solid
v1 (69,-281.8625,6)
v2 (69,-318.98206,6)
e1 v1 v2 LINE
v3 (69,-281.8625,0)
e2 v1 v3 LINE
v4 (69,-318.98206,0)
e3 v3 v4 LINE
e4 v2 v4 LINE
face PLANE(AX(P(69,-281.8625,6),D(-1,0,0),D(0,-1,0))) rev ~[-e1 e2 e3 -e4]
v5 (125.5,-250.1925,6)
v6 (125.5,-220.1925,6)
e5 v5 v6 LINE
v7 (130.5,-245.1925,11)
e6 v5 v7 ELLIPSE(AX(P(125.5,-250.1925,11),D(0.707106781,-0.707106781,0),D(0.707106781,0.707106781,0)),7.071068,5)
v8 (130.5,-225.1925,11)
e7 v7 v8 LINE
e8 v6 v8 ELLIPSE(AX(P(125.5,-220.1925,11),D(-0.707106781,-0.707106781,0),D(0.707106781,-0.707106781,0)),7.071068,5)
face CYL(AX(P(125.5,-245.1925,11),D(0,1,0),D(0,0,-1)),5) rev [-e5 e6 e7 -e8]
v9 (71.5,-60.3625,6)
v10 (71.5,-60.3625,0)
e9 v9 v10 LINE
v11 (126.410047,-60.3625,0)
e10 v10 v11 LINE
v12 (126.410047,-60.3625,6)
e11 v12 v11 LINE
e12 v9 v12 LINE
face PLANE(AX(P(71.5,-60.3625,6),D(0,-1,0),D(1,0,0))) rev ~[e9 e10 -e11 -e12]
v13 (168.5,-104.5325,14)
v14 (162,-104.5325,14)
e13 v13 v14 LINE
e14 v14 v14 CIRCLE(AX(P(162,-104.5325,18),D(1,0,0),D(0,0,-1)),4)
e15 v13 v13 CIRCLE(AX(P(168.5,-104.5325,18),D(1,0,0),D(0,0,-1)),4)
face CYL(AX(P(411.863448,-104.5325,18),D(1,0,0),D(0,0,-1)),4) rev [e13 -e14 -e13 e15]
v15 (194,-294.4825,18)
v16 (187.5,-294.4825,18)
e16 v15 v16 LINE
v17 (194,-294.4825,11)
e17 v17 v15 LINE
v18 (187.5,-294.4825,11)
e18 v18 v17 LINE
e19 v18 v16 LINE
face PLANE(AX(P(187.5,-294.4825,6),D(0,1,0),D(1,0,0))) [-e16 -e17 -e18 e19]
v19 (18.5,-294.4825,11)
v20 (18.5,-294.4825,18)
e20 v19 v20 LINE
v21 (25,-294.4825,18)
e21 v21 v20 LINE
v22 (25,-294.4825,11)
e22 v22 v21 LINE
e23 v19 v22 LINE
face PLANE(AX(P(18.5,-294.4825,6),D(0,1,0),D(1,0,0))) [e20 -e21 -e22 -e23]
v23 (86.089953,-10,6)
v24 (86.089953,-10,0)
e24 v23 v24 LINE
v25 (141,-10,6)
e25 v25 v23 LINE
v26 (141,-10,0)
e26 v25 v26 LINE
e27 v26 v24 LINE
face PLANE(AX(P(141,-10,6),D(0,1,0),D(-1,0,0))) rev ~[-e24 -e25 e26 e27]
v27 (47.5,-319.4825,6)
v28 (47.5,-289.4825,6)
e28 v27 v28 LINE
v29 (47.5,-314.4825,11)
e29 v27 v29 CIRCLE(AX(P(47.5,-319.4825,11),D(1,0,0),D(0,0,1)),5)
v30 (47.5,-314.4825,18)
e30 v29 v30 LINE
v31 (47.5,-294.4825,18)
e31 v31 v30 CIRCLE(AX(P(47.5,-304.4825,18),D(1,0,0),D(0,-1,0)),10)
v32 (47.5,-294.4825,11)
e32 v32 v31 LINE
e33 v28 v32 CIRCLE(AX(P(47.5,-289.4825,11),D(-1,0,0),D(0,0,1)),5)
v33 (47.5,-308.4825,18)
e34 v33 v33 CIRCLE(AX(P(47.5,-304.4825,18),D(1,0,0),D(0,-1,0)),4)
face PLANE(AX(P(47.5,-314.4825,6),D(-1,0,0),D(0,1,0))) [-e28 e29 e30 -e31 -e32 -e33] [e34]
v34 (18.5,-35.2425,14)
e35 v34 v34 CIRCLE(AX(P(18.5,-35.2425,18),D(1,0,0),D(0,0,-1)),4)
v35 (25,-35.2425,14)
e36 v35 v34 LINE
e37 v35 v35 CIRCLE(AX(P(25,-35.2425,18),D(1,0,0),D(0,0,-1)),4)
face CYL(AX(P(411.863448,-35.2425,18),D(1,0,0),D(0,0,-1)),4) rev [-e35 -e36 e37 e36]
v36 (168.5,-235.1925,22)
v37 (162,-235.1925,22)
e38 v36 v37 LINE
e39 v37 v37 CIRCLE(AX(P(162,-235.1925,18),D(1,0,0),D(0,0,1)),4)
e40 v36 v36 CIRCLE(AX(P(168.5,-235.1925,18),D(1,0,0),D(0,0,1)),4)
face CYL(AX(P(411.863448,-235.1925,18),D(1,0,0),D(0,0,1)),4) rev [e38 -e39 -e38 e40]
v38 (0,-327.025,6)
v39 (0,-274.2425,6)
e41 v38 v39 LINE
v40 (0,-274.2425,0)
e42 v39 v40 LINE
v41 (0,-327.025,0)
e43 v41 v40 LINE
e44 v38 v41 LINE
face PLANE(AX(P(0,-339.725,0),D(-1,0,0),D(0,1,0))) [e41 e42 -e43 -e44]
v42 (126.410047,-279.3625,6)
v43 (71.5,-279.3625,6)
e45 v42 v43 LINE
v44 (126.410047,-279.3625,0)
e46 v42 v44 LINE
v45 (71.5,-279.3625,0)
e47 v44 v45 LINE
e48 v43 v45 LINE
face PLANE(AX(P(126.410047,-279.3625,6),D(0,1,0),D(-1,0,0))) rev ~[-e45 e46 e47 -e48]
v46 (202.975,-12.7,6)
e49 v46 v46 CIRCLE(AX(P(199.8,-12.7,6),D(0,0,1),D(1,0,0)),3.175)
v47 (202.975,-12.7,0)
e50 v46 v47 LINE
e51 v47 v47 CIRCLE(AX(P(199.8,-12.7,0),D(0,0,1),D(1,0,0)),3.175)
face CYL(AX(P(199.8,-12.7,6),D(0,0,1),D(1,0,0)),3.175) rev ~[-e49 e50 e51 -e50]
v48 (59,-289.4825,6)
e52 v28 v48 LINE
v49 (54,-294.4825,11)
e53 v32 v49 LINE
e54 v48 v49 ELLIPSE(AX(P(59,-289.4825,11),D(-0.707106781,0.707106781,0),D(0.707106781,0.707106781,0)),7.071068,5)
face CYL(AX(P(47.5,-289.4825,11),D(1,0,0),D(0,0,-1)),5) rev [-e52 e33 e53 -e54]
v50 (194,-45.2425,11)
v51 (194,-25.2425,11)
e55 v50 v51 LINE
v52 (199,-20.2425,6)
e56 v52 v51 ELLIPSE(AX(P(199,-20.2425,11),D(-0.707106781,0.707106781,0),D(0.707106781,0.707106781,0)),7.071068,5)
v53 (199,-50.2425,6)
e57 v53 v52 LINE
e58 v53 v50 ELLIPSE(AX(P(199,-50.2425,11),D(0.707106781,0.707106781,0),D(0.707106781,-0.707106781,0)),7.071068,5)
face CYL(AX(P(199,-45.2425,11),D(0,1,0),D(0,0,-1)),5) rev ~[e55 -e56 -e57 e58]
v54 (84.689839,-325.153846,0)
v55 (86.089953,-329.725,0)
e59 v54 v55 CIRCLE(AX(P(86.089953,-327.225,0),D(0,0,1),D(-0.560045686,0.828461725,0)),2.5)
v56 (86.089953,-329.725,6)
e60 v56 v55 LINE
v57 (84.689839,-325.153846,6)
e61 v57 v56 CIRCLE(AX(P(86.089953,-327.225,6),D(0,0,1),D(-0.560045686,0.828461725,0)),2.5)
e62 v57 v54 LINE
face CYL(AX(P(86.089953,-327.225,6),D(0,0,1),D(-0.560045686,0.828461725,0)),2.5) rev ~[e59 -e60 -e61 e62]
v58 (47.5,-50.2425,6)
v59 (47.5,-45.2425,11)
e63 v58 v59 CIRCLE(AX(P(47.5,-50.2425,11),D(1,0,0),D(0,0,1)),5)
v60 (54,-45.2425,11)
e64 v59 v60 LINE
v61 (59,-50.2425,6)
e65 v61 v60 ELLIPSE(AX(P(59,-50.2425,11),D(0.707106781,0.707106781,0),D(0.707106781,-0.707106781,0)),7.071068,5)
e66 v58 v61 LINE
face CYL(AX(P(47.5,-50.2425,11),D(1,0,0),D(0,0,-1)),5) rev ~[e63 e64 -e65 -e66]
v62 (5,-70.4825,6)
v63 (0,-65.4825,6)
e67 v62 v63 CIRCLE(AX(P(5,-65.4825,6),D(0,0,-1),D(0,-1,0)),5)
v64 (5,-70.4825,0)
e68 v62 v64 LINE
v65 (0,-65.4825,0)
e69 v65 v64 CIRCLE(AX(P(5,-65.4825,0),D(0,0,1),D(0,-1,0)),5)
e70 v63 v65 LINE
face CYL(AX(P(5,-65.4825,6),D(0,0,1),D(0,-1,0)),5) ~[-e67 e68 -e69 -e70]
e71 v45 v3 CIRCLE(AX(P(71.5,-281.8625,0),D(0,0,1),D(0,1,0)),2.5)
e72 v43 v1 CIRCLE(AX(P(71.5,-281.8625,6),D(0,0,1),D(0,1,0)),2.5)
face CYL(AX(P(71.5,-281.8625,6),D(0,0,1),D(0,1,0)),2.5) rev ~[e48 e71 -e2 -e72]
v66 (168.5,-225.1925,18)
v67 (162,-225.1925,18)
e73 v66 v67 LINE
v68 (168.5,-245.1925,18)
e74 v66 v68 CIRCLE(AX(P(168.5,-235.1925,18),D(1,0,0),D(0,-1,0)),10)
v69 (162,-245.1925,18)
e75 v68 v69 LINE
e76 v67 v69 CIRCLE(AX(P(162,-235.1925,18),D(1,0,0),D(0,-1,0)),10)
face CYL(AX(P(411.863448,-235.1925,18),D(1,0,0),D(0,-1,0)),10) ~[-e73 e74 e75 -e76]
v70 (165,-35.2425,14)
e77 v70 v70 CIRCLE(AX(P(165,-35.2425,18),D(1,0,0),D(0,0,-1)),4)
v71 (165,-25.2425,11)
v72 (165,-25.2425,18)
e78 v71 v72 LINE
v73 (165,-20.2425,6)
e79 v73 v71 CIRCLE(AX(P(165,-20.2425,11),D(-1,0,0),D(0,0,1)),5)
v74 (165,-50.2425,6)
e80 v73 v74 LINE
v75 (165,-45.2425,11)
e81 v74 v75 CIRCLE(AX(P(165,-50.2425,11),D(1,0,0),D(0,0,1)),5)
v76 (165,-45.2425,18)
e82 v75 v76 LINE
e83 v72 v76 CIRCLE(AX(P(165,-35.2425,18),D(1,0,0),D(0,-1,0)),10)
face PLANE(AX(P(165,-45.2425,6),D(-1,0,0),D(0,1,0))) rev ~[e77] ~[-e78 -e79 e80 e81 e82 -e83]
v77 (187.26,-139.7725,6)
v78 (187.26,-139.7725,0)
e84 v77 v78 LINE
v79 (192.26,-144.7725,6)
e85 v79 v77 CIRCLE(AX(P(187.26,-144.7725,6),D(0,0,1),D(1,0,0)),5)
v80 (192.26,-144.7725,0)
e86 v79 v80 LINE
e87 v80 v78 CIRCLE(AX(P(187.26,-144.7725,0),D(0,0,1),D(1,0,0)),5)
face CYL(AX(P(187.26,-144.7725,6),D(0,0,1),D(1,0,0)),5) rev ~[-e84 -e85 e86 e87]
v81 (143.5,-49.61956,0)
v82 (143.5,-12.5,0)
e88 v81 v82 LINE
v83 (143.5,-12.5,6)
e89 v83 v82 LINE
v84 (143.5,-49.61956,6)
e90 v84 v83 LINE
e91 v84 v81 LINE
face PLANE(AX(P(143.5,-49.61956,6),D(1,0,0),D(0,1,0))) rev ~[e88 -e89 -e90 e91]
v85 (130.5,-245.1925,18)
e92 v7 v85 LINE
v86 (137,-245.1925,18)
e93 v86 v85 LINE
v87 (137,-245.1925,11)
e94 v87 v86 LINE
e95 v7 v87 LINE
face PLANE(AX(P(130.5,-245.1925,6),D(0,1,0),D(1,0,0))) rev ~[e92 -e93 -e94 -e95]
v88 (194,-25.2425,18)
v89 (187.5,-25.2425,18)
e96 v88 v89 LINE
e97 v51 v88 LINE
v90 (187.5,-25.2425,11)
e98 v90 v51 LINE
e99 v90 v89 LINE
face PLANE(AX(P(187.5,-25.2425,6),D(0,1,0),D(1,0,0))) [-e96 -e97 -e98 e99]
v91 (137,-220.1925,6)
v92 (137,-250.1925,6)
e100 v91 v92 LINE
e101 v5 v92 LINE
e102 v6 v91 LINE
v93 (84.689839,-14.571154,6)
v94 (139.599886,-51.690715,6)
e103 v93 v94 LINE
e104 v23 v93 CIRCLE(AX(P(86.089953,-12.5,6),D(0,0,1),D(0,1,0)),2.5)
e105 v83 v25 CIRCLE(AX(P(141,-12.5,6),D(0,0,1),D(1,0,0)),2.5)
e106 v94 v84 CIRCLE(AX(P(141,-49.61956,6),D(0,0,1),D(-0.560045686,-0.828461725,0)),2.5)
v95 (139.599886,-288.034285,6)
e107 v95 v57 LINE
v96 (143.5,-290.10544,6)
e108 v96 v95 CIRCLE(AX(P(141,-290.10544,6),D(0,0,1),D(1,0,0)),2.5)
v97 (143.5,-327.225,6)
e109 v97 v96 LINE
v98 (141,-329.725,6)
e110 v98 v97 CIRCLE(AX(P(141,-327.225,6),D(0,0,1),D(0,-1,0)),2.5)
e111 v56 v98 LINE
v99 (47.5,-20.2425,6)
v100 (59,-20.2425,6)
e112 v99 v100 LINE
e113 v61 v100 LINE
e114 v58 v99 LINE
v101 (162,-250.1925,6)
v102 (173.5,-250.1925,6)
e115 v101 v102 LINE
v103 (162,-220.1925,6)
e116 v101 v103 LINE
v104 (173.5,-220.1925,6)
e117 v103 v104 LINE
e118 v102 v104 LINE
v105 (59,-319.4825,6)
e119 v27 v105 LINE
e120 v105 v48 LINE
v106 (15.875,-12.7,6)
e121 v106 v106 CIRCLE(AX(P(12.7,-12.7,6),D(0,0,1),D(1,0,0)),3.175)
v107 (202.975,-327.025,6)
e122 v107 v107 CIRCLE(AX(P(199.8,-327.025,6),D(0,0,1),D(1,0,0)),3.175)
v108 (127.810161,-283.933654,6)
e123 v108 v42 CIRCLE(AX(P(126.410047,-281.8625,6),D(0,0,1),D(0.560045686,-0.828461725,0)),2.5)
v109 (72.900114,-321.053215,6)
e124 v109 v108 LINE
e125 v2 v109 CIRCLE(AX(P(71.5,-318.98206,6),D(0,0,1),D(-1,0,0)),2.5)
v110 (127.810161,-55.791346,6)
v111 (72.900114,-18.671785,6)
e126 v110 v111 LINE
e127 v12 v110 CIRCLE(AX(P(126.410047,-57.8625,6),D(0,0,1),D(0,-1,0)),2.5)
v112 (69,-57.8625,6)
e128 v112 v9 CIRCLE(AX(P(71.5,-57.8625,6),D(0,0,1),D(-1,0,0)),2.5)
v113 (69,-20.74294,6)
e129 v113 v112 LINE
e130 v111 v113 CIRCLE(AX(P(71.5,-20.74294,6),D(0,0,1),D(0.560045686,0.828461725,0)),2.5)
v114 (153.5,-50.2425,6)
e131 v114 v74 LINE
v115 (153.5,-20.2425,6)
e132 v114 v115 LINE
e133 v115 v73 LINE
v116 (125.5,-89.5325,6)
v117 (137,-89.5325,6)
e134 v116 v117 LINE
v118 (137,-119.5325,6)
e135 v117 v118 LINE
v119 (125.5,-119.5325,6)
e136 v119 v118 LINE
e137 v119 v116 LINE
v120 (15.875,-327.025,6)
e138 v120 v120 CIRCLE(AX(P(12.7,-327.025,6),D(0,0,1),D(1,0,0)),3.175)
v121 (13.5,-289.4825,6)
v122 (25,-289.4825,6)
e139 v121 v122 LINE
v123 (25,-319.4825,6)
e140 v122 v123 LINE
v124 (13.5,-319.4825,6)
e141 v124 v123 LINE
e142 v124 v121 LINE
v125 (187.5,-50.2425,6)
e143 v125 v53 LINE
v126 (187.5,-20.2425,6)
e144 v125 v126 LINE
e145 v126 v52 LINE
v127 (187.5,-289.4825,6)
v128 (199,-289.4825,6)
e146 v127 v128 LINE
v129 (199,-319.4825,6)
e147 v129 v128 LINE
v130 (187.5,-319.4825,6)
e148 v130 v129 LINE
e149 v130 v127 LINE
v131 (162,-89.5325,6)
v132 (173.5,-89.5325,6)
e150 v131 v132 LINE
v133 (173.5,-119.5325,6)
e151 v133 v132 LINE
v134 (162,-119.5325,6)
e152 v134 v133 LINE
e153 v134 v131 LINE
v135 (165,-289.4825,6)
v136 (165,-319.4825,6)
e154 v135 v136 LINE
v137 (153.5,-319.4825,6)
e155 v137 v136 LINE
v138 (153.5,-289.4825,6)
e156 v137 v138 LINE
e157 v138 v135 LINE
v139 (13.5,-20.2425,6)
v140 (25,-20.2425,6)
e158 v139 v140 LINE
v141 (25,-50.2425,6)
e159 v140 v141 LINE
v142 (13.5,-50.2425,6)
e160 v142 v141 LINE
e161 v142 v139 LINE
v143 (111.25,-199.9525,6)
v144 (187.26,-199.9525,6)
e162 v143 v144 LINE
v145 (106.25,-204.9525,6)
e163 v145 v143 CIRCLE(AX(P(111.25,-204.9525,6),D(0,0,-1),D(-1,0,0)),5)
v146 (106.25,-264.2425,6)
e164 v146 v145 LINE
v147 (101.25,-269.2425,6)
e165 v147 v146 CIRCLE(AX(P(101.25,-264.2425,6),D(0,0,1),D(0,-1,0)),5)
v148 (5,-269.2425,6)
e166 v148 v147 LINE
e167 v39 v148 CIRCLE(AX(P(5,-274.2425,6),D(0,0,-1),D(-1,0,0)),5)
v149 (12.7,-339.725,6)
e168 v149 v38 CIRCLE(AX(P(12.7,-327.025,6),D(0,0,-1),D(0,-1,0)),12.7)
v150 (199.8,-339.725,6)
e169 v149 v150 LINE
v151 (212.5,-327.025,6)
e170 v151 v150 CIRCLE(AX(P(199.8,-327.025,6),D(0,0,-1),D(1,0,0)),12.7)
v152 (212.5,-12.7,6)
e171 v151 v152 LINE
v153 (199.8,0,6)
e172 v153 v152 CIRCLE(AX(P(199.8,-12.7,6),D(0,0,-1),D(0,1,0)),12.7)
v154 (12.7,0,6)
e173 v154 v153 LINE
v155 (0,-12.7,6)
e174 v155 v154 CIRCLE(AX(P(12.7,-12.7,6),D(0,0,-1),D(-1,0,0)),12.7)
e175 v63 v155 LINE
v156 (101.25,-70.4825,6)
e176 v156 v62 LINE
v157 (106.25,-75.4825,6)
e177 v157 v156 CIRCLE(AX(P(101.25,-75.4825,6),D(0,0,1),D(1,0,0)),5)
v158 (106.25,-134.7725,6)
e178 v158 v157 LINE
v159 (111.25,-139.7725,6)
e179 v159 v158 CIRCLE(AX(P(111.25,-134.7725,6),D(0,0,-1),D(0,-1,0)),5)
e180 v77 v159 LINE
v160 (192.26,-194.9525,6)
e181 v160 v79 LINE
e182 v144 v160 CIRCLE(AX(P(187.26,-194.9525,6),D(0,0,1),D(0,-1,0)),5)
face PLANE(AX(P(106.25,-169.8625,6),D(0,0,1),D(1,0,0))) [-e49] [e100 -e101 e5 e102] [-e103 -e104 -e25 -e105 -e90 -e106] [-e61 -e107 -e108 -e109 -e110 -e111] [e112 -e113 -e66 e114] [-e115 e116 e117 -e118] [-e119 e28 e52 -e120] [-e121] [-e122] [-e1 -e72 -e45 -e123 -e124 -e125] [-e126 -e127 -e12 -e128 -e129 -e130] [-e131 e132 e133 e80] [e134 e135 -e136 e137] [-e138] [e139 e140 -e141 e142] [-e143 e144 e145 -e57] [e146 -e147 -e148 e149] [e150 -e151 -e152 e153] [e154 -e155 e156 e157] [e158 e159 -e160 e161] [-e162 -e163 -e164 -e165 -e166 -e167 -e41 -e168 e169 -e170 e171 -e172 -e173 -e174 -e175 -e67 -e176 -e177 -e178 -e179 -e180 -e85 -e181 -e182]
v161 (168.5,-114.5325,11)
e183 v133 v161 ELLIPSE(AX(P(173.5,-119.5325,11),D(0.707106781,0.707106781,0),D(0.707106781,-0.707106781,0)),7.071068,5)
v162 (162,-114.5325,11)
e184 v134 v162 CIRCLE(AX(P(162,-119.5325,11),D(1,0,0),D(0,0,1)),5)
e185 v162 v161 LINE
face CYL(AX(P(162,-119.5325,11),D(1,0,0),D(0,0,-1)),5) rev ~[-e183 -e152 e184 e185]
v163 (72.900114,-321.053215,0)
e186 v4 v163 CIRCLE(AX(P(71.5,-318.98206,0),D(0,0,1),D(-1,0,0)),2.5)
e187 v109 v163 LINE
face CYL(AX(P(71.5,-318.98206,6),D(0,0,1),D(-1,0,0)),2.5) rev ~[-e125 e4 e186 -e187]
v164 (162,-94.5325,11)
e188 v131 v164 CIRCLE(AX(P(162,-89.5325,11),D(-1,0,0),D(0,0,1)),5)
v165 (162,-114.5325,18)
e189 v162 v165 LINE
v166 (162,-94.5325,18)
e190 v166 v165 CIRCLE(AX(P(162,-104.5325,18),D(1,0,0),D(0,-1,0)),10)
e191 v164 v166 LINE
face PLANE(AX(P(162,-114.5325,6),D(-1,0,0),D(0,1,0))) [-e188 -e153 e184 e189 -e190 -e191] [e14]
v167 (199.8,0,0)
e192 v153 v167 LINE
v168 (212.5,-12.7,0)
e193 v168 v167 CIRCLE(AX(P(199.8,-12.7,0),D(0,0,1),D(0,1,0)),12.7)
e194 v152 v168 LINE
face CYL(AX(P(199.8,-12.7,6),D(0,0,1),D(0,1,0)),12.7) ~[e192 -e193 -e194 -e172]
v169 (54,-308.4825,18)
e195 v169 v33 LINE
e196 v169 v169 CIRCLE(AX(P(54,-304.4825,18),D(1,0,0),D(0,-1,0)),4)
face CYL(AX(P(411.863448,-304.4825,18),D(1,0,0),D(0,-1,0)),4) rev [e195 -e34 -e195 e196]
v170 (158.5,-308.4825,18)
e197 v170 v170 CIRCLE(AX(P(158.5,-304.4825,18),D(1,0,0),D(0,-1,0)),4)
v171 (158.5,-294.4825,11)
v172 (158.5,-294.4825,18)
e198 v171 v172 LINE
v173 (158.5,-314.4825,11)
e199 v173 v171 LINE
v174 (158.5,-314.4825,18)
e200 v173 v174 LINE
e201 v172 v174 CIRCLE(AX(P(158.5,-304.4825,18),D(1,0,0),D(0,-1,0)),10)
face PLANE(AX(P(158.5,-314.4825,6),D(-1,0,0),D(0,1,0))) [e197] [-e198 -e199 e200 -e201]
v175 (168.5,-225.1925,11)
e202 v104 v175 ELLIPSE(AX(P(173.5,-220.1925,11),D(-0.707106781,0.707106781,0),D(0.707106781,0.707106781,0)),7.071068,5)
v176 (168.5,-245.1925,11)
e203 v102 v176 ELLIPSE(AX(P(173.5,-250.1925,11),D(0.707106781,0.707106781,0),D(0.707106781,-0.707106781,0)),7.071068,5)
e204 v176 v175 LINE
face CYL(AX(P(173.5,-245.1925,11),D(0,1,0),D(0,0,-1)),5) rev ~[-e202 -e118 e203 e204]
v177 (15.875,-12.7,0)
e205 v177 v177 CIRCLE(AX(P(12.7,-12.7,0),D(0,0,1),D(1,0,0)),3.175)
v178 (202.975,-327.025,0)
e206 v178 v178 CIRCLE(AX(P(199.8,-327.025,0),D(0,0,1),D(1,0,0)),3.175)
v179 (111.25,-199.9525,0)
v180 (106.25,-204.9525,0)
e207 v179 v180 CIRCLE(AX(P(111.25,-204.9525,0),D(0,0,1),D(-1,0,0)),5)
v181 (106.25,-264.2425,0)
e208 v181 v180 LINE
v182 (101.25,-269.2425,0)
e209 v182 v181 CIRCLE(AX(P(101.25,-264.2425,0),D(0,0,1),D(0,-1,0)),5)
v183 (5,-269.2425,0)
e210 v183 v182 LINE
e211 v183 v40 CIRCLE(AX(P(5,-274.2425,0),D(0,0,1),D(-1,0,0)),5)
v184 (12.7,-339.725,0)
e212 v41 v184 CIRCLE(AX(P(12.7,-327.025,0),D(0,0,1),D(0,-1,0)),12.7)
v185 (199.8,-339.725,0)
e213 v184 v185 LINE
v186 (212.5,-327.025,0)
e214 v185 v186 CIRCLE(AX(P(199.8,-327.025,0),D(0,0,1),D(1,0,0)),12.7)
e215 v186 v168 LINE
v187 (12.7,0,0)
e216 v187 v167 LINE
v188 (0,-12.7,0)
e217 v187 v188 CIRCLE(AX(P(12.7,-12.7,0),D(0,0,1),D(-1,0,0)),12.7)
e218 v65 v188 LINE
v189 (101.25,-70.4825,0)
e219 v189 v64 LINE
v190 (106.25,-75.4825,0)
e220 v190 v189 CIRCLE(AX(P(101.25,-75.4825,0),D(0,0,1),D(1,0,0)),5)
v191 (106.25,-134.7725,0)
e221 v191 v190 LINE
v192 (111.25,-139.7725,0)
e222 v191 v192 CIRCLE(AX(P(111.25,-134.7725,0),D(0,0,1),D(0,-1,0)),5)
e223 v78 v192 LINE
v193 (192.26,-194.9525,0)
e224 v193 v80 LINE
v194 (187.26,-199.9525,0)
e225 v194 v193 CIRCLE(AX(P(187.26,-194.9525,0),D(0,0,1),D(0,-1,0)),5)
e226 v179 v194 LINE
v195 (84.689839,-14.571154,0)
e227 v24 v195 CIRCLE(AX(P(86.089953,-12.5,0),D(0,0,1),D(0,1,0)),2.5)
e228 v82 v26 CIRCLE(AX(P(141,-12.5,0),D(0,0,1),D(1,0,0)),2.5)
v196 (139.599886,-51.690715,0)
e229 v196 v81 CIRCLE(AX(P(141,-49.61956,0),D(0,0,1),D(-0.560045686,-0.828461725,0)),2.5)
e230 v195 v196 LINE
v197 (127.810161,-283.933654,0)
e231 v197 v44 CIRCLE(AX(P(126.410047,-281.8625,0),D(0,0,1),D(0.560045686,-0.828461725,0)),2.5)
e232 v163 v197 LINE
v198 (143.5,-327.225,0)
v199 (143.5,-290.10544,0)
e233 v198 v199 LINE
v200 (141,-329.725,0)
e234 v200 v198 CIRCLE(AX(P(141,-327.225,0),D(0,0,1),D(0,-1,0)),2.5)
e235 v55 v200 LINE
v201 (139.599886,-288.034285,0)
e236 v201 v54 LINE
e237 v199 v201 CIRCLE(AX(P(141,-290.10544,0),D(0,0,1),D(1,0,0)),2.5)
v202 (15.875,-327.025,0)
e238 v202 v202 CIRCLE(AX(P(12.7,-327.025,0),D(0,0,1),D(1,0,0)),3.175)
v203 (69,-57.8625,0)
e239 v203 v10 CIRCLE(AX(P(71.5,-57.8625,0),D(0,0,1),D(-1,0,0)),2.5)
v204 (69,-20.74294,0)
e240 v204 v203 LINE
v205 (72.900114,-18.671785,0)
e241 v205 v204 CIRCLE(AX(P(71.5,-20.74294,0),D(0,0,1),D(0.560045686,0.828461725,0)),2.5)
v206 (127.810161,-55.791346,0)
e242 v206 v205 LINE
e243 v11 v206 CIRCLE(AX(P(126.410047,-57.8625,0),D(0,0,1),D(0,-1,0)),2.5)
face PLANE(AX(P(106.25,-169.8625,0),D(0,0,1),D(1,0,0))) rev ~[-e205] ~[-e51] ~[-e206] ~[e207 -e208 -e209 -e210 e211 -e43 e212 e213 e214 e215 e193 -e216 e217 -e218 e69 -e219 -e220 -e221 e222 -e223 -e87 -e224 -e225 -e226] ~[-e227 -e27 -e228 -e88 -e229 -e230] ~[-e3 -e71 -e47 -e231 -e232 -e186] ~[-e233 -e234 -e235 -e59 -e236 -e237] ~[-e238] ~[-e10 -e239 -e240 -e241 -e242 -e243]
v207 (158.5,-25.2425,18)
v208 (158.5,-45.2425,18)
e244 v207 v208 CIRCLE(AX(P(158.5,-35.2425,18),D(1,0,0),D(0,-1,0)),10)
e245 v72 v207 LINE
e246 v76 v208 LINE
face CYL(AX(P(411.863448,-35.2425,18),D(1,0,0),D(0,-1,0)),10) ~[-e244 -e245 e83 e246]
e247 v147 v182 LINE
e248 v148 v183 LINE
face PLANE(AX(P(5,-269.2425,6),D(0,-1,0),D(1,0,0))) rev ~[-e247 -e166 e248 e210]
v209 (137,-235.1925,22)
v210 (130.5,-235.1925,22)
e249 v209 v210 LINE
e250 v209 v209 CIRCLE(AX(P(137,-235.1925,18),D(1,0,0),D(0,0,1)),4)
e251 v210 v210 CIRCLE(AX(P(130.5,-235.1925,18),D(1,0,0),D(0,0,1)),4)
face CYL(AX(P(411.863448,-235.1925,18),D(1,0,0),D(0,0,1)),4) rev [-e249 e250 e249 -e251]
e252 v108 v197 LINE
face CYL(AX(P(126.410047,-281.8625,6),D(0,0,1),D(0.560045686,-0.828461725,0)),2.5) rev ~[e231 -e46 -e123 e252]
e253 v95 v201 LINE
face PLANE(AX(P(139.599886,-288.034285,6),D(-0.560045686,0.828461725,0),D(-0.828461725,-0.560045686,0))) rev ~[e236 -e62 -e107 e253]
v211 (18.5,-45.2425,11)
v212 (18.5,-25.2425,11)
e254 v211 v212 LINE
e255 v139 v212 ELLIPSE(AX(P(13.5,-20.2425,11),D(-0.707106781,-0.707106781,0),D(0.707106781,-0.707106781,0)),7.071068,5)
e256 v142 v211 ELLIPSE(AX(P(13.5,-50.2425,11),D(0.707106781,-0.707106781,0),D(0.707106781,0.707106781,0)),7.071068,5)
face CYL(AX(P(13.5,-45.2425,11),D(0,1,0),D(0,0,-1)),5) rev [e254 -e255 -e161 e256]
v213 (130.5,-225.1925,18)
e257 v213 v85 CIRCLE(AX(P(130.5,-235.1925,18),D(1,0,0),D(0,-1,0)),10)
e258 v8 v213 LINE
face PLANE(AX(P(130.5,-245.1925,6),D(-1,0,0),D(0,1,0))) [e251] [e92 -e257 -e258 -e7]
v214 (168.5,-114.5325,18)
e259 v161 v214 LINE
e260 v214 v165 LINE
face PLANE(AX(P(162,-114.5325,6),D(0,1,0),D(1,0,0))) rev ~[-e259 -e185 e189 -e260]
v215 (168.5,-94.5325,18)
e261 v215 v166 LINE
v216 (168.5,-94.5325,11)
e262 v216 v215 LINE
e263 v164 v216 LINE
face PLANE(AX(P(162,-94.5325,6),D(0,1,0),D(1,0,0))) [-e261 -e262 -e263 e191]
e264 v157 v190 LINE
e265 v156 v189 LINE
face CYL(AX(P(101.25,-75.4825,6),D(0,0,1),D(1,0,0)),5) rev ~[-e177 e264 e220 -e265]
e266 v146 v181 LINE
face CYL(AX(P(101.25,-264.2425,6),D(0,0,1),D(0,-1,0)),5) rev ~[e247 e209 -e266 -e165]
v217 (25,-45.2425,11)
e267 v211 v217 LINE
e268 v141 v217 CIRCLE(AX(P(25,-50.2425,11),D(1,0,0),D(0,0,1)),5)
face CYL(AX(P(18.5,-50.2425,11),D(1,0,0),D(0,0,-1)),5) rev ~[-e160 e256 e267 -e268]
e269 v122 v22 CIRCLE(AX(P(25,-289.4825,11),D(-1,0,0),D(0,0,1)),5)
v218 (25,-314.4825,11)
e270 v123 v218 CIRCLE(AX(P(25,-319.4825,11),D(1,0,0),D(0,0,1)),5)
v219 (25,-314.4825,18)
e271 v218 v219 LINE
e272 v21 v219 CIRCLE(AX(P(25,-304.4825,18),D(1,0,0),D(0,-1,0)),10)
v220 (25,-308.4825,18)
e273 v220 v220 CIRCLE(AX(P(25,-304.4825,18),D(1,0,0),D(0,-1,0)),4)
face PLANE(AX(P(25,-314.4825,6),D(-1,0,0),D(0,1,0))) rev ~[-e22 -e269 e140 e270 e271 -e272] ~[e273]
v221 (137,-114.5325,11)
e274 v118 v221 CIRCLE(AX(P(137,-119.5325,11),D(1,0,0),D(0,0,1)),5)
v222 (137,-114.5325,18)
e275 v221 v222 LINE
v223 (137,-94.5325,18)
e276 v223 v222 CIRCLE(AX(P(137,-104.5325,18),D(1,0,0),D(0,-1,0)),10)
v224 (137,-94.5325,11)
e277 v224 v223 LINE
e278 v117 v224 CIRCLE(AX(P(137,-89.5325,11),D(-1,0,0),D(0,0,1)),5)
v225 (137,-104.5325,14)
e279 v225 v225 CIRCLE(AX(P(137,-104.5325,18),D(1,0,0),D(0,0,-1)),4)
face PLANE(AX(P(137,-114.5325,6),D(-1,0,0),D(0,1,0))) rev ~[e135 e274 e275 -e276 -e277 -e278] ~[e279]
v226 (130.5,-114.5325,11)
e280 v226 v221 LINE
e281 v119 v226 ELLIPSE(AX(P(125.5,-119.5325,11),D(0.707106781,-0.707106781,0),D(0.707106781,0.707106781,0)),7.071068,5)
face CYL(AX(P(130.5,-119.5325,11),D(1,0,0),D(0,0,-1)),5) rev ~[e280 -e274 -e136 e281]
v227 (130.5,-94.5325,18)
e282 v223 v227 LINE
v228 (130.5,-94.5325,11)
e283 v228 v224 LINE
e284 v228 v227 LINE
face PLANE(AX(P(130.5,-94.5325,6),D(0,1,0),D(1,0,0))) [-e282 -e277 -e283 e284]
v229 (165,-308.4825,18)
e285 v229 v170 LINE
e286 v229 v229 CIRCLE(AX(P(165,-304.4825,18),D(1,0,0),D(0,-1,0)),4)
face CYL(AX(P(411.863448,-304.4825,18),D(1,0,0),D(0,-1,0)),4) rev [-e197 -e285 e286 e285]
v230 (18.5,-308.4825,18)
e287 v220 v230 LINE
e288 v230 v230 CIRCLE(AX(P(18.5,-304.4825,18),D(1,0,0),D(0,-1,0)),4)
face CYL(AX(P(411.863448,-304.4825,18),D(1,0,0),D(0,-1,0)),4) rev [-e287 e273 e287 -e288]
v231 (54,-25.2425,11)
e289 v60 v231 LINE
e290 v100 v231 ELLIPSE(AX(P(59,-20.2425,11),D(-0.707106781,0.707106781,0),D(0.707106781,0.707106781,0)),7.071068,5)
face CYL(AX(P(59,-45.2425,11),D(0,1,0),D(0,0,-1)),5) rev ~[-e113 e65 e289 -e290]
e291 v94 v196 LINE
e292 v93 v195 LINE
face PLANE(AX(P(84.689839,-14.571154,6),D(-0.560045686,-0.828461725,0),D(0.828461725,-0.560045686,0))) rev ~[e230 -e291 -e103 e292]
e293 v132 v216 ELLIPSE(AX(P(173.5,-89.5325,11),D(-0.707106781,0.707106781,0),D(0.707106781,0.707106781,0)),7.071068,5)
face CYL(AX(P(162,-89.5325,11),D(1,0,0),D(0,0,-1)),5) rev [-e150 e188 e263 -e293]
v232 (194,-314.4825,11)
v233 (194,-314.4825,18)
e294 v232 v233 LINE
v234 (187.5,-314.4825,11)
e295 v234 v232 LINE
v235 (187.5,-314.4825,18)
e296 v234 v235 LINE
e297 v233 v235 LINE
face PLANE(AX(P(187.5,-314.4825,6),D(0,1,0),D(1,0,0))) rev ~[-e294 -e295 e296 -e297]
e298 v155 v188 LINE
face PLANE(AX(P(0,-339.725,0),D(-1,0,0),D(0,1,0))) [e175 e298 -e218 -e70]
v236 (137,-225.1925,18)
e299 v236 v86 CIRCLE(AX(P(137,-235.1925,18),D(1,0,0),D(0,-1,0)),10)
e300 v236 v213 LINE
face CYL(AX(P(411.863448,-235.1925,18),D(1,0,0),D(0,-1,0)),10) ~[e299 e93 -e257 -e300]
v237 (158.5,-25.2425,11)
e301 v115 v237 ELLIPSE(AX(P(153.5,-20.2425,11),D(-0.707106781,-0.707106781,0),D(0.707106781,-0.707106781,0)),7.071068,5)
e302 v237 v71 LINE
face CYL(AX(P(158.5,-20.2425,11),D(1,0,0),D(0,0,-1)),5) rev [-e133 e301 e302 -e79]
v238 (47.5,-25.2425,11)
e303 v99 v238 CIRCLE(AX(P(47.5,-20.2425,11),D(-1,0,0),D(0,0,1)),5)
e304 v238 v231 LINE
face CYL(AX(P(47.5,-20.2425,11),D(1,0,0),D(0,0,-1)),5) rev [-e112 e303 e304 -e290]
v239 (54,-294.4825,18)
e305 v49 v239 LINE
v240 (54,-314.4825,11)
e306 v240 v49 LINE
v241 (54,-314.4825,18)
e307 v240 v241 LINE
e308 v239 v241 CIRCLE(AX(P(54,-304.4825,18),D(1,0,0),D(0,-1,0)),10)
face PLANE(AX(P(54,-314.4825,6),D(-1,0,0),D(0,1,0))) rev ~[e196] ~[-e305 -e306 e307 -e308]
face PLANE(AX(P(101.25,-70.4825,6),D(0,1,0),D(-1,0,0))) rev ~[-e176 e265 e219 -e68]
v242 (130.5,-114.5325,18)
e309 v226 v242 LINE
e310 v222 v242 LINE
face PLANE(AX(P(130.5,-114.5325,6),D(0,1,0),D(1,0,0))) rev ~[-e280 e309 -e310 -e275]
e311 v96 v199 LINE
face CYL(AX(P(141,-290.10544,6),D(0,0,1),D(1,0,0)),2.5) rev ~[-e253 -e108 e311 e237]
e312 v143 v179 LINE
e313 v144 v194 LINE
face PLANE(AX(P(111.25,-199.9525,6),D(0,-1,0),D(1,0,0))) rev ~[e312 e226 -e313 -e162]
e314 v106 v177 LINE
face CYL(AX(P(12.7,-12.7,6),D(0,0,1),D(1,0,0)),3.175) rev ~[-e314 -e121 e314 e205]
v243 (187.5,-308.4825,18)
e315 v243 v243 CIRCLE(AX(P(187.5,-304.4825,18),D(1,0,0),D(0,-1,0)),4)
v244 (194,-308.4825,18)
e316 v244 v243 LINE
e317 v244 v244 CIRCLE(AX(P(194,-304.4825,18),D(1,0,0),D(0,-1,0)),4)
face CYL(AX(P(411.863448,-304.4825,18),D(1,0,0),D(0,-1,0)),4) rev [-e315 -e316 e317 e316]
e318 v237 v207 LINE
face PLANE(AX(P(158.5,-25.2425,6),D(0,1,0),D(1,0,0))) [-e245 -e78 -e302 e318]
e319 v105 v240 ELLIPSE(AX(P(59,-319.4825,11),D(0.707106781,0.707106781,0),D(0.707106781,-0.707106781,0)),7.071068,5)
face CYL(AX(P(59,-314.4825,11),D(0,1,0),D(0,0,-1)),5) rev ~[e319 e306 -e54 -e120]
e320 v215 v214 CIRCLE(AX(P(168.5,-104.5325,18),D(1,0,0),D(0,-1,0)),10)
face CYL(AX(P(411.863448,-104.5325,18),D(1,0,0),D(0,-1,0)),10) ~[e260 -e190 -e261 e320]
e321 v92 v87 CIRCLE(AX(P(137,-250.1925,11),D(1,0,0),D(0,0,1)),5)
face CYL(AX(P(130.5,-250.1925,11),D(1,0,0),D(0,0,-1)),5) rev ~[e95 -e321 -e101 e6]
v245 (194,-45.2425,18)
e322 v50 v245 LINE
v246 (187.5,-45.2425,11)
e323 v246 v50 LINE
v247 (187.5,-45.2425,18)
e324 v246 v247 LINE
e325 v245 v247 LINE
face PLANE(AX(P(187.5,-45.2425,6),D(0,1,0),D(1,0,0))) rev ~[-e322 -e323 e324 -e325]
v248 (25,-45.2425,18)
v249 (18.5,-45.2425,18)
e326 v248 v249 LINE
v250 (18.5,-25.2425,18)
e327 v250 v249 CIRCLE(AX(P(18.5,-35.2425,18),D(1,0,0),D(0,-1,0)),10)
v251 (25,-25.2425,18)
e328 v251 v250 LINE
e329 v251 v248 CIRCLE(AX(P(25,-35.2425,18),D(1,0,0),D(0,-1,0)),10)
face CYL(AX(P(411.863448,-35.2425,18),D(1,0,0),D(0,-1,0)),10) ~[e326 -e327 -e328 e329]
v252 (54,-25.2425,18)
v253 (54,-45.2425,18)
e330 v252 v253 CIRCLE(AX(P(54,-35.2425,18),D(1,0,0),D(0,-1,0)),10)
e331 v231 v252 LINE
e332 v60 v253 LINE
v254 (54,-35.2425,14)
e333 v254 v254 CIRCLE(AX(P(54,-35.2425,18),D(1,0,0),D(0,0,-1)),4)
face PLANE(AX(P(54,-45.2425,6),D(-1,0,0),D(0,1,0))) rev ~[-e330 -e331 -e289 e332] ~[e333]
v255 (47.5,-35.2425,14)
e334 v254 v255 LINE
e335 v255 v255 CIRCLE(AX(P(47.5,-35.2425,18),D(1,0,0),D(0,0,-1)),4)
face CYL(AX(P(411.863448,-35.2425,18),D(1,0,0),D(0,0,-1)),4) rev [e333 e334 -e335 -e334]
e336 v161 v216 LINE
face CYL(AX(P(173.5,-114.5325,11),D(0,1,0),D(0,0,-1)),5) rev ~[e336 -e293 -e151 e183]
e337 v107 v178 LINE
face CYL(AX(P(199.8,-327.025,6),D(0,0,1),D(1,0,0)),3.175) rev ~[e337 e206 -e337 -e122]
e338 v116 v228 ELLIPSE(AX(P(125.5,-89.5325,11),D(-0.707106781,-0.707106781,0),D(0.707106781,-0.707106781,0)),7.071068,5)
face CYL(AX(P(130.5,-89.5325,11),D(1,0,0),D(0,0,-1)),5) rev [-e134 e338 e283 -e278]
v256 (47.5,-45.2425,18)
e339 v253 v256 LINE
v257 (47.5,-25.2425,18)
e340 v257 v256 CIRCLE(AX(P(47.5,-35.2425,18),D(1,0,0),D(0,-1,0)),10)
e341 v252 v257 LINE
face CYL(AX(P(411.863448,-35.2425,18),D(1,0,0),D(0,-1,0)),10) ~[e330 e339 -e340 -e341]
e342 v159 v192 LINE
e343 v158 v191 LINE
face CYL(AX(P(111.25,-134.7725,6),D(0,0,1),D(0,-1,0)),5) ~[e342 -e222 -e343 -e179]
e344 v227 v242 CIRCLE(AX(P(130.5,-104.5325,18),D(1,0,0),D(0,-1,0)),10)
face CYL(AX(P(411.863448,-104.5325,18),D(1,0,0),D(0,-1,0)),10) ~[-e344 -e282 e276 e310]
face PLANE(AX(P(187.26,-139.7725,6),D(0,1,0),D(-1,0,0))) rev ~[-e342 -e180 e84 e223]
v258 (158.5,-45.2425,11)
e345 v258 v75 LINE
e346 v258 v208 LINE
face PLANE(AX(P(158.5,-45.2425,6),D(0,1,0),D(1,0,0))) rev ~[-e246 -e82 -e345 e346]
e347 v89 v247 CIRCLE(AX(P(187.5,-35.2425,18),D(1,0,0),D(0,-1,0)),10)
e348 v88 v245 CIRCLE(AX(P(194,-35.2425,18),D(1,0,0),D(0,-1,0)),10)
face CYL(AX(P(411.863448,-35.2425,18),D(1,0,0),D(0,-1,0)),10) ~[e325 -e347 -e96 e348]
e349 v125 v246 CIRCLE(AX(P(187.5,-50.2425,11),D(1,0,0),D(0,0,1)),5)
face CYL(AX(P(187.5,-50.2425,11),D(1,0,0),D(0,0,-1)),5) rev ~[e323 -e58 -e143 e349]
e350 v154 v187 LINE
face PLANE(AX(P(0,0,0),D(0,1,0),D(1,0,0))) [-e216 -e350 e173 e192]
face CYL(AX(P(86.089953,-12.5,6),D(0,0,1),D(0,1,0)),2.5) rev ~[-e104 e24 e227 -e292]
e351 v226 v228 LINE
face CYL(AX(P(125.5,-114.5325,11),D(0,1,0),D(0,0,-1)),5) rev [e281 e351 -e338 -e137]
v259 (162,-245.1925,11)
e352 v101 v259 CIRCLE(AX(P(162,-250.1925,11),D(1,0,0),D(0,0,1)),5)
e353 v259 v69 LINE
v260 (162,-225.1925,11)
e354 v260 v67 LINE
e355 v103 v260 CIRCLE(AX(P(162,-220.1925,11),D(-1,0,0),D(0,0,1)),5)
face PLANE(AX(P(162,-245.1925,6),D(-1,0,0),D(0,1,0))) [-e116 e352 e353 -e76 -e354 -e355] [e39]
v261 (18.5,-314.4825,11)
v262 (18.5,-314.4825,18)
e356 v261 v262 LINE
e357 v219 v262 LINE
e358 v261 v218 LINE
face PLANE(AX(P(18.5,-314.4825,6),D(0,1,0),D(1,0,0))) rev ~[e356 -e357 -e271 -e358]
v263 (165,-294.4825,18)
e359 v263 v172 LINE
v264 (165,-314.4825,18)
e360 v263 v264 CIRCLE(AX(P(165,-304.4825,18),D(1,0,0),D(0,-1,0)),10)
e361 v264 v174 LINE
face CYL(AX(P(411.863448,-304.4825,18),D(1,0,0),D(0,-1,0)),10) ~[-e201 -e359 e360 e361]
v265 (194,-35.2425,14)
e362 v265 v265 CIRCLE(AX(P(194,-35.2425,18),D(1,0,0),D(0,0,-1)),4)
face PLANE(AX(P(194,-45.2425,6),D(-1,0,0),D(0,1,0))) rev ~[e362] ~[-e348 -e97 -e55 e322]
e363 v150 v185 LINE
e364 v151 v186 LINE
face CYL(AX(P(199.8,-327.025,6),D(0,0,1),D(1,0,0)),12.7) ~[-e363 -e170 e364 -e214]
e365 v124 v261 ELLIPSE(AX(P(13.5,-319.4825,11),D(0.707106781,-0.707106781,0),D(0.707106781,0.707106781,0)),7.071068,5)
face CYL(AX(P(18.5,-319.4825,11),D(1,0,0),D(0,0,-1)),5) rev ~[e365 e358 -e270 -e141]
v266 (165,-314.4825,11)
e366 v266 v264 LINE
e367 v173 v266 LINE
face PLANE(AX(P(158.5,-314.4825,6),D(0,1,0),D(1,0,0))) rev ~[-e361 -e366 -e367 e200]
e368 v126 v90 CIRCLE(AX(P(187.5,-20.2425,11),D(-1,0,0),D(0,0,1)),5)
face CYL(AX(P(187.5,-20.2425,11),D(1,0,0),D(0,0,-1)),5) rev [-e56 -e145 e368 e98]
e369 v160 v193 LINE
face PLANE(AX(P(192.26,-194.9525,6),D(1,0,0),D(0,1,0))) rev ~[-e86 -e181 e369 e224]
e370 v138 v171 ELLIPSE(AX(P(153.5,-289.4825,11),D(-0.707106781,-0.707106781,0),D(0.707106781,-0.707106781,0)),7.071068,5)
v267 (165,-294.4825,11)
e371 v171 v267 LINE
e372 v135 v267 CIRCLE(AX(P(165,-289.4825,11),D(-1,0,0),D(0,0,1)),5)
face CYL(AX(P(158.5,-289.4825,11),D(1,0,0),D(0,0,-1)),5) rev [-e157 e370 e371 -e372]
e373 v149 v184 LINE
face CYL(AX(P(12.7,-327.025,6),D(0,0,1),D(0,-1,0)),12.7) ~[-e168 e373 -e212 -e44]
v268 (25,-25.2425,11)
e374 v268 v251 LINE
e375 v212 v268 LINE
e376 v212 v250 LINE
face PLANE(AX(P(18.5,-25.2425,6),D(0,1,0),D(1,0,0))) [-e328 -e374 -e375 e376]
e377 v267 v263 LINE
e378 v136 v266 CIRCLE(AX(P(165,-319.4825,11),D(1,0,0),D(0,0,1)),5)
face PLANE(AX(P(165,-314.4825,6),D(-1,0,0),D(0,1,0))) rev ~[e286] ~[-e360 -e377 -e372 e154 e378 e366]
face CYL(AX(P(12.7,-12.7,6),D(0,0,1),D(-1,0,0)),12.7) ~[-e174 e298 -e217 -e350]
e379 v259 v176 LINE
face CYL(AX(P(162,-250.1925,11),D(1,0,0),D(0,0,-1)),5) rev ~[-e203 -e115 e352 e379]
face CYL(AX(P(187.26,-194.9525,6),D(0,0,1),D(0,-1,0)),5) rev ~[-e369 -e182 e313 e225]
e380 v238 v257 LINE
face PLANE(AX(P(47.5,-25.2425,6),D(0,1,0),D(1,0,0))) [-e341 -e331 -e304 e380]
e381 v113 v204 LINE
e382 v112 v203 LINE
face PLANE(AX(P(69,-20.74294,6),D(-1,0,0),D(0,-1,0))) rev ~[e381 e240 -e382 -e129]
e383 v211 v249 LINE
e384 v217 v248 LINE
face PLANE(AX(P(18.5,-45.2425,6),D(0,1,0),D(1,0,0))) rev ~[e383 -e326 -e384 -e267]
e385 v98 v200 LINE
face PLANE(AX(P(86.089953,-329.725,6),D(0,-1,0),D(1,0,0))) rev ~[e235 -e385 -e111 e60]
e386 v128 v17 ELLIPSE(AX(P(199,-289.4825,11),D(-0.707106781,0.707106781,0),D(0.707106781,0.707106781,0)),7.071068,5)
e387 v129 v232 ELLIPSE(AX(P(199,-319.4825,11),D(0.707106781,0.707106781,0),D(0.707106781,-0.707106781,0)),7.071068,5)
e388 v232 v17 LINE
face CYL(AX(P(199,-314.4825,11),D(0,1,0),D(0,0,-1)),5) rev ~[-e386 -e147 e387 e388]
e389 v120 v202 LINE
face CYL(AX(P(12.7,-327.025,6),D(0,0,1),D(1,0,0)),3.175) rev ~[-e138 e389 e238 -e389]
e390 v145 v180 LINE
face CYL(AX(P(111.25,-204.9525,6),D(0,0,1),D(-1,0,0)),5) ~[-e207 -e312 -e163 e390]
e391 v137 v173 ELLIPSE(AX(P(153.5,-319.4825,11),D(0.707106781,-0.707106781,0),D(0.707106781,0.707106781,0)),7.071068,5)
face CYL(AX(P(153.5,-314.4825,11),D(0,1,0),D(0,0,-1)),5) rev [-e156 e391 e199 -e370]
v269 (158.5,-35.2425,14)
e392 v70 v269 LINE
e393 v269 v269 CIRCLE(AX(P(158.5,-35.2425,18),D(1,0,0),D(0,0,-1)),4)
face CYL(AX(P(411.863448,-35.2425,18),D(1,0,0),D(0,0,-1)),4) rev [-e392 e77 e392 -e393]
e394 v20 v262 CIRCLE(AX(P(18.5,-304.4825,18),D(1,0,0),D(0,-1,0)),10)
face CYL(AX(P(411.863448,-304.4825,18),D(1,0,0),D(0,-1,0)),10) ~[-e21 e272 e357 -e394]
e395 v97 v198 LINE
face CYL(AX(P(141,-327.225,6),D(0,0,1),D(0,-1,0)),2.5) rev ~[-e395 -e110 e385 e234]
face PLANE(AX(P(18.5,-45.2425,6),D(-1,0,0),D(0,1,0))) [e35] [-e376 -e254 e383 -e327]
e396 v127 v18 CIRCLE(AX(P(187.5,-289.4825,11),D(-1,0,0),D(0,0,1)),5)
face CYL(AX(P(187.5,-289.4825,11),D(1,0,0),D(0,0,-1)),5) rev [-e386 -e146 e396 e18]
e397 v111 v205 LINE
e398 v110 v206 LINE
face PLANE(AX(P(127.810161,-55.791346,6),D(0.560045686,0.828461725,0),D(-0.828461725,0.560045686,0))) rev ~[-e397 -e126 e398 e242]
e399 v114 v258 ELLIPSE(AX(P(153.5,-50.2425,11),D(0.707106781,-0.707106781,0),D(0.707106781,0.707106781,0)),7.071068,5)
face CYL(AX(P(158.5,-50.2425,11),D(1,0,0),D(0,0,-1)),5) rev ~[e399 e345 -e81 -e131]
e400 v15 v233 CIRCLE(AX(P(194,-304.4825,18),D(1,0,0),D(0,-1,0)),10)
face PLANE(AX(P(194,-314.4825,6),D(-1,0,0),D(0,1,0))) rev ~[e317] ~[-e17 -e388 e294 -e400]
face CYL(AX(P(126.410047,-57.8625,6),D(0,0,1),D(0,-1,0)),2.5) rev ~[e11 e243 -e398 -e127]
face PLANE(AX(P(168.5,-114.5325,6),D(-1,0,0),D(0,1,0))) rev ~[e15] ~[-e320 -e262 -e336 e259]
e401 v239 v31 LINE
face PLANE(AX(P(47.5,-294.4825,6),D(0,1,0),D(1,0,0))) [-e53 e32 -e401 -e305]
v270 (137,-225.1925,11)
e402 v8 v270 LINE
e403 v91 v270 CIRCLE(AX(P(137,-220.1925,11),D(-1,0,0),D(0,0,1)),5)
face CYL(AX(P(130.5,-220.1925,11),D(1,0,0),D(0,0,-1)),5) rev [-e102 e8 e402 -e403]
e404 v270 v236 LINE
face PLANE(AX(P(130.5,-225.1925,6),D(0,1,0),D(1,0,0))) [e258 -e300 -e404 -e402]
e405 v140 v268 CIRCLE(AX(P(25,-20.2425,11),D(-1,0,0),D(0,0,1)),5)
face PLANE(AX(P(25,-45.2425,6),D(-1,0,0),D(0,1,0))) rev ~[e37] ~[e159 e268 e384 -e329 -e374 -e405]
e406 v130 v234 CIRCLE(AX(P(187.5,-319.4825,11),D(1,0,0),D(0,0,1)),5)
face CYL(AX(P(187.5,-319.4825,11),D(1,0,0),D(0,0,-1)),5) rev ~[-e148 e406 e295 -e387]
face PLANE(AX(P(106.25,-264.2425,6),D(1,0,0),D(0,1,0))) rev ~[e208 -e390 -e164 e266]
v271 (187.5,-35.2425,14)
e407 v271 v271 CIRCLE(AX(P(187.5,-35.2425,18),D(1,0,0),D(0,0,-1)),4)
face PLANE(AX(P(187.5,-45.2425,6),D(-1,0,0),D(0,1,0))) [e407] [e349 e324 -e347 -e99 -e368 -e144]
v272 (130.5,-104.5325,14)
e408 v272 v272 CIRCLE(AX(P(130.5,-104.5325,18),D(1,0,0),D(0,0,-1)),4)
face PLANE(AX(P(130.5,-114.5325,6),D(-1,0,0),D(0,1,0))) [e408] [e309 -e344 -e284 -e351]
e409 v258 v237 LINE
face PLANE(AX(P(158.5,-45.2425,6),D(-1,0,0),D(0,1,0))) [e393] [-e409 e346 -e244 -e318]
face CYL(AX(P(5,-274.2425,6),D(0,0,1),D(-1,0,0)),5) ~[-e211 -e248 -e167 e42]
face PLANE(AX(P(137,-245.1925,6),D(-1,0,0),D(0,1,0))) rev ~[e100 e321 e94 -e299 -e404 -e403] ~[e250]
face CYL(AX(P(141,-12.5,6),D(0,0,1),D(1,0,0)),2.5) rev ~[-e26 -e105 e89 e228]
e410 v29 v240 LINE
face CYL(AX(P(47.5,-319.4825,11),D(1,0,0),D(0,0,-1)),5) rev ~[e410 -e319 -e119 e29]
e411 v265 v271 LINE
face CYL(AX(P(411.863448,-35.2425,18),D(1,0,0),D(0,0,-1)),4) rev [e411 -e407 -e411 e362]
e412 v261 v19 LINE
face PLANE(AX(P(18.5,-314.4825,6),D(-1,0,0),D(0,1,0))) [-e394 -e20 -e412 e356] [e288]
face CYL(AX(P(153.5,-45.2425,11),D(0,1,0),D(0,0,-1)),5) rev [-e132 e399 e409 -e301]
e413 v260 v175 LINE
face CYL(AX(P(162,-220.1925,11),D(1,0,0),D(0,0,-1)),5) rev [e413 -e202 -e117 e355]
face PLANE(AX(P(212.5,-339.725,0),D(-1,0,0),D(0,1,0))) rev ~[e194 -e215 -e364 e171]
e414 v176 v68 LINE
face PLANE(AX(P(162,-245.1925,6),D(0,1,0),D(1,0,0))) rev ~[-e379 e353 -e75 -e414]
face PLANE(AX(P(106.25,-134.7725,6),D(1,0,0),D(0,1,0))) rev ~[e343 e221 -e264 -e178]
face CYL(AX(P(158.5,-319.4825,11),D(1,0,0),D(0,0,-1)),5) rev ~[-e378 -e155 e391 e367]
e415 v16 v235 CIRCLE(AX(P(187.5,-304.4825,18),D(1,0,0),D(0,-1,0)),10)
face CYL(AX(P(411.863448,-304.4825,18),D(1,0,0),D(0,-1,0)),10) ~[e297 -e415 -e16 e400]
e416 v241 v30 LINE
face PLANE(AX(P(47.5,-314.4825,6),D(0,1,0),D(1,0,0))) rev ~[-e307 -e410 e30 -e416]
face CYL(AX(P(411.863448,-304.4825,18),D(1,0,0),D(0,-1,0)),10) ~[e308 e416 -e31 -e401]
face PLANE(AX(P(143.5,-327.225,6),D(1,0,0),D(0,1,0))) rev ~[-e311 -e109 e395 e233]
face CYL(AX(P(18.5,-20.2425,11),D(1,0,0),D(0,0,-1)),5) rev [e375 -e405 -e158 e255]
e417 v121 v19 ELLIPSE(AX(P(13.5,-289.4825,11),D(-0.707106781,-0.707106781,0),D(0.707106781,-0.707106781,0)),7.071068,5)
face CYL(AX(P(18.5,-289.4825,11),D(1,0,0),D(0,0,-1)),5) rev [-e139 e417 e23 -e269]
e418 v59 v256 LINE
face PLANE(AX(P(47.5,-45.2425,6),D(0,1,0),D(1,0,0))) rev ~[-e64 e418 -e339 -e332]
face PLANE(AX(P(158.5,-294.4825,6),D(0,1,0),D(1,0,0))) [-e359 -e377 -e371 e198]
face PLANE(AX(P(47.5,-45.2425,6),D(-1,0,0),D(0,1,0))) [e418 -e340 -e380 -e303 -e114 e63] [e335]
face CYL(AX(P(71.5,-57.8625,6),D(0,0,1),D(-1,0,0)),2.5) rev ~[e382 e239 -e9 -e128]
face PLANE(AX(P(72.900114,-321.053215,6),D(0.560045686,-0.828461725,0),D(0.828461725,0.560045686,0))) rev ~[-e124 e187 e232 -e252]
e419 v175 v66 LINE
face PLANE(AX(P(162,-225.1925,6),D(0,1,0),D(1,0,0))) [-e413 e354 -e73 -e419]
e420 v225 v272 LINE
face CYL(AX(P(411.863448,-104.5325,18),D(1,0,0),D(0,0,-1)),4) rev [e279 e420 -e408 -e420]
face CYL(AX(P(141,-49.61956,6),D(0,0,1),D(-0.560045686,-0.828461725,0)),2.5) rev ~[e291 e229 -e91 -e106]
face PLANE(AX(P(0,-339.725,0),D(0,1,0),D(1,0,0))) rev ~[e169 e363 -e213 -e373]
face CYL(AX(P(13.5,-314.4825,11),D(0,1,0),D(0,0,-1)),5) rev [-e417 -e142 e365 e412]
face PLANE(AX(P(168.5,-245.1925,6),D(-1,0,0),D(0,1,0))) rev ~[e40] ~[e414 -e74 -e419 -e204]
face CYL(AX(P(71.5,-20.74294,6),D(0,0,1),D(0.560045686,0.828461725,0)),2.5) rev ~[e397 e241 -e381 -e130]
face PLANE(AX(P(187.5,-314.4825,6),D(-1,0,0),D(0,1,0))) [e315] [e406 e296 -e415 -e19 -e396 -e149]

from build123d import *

# Parameters (mm, degrees)
SKETCH1_W               = 212.5
SKETCH1_H               = 339.725
BOSS_EXTRUDE1_DEPTH     = 6
SKETCH2_W               = 6.5
SKETCH2_H               = 20
BOSS_EXTRUDE2_DEPTH     = 24
CUT_EXTRUDE1_DEPTH      = 393.36344838
CUT_EXTRUDE1_DEPTH_BACK = 393.36344838
SKETCH3_R               = 4
FILLET2_R               = 5
SKETCH5_R               = 3.175
CUT_EXTRUDE2_DEPTH      = 402.314497153


with BuildPart() as part:
    # Sketch1 → Boss-Extrude1 (new body)
    with BuildSketch(Plane.XY):
        with Locations((106.25, -169.8625)):
            Rectangle(SKETCH1_W, SKETCH1_H)
    extrude(amount=BOSS_EXTRUDE1_DEPTH)

    # Sketch2 → Boss-Extrude2 (add)
    with BuildSketch(Plane.XY.offset(6)):
        with Locations((21.75, -35.2425)):
            Rectangle(SKETCH2_W, SKETCH2_H)
        with Locations((50.75, -35.2425)):
            Rectangle(SKETCH2_W, SKETCH2_H)
        with Locations((161.75, -35.2425)):
            Rectangle(SKETCH2_W, SKETCH2_H)
        with Locations((190.75, -35.2425)):
            Rectangle(SKETCH2_W, SKETCH2_H)
        with Locations((133.75, -104.5325)):
            Rectangle(SKETCH2_W, SKETCH2_H)
        with Locations((165.25, -104.5325)):
            Rectangle(SKETCH2_W, SKETCH2_H)
        with Locations((165.25, -235.1925)):
            Rectangle(SKETCH2_W, SKETCH2_H)
        with Locations((21.75, -304.4825)):
            Rectangle(SKETCH2_W, SKETCH2_H)
        with Locations((50.75, -304.4825)):
            Rectangle(SKETCH2_W, SKETCH2_H)
        with Locations((190.75, -304.4825)):
            Rectangle(SKETCH2_W, SKETCH2_H)
        with Locations((161.75, -304.4825)):
            Rectangle(SKETCH2_W, SKETCH2_H)
        with Locations((133.75, -235.1925)):
            Rectangle(SKETCH2_W, SKETCH2_H)
    extrude(amount=BOSS_EXTRUDE2_DEPTH)

    # Sketch3 → Cut-Extrude1 (cut, two sides: drawn at the far end of the back side and taken through both)
    with BuildSketch(Plane.ZY.offset(-18.5).offset(-CUT_EXTRUDE1_DEPTH_BACK)):
        with Locations((18, -35.2425)):
            Circle(SKETCH3_R)
        with Locations((18, -235.1925)):
            Circle(SKETCH3_R)
        with Locations((18, -304.4825)):
            Circle(SKETCH3_R)
        with Locations((18, -104.5325)):
            Circle(SKETCH3_R)
        with BuildLine():
            Line((18, -25.2425), (18, -12.982943413))
            Line((18, -12.982943413), (51.949532367, -12.982943413))
            Line((51.949532367, -12.982943413), (51.949532367, -57.481006387))
            Line((51.949532367, -57.481006387), (18, -57.481006387))
            Line((18, -57.481006387), (18, -45.2425))
            ThreePointArc((18, -45.2425), (28, -35.2425), (18, -25.2425))
        make_face()
        with BuildLine():
            Line((52.442304634, -132.399123951), (18, -132.399123951))
            Line((18, -132.399123951), (18, -114.5325))
            ThreePointArc((18, -114.5325), (28, -104.5325), (18, -94.5325))
            Line((18, -94.5325), (18, -71.59149594))
            Line((18, -71.59149594), (52.442304634, -71.59149594))
            Line((52.442304634, -71.59149594), (52.442304634, -132.399123951))
        make_face()
        with BuildLine():
            Line((52.599532243, -270.375386727), (18, -270.375386727))
            Line((18, -270.375386727), (18, -245.1925))
            ThreePointArc((18, -245.1925), (28, -235.1925), (18, -225.1925))
            Line((18, -225.1925), (18, -207.306351849))
            Line((18, -207.306351849), (52.599532243, -207.306351849))
            Line((52.599532243, -207.306351849), (52.599532243, -270.375386727))
        make_face()
        with BuildLine():
            Line((52.621034016, -326.721115515), (18, -326.721115515))
            Line((18, -326.721115515), (18, -314.4825))
            ThreePointArc((18, -314.4825), (28, -304.4825), (18, -294.4825))
            Line((18, -294.4825), (18, -282.222834285))
            Line((18, -282.222834285), (52.621034016, -282.222834285))
            Line((52.621034016, -282.222834285), (52.621034016, -326.721115515))
        make_face()
    extrude(amount=CUT_EXTRUDE1_DEPTH + CUT_EXTRUDE1_DEPTH_BACK, mode=Mode.SUBTRACT)

    # Fillet2
    fillet2_edges = [part.edges().sort_by_distance(p)[0] for p in [
        (158.5, -304.4825, 6),
        (18.5, -304.4825, 6),
        (21.75, -45.2425, 6),
        (18.5, -35.2425, 6),
        (21.75, -25.2425, 6),
        (50.75, -25.2425, 6),
        (50.75, -45.2425, 6),
        (54, -35.2425, 6),
        (161.75, -25.2425, 6),
        (190.75, -25.2425, 6),
        (194, -35.2425, 6),
        (190.75, -45.2425, 6),
        (161.75, -45.2425, 6),
        (158.5, -35.2425, 6),
        (168.5, -104.5325, 6),
        (165.25, -114.5325, 6),
        (133.75, -114.5325, 6),
        (130.5, -104.5325, 6),
        (165.25, -94.5325, 6),
        (133.75, -94.5325, 6),
        (21.75, -294.4825, 6),
        (50.75, -294.4825, 6),
        (54, -304.4825, 6),
        (194, -304.4825, 6),
        (161.75, -294.4825, 6),
        (190.75, -294.4825, 6),
        (190.75, -314.4825, 6),
        (161.75, -314.4825, 6),
        (50.75, -314.4825, 6),
        (21.75, -314.4825, 6),
        (165.25, -225.1925, 6),
        (133.75, -225.1925, 6),
        (130.5, -235.1925, 6),
        (133.75, -245.1925, 6),
        (165.25, -245.1925, 6),
        (168.5, -235.1925, 6),
    ]]
    fillet(fillet2_edges, radius=FILLET2_R)

    # Sketch5 → Cut-Extrude2 (cut, through all)
    with BuildSketch(Plane.XY.offset(6)):
        with BuildLine():
            Line((141, -10), (86.089952747, -10))
            ThreePointArc((86.089952747, -10), (83.699567237, -11.767840789), (84.689838532, -14.571154312))
            Line((84.689838532, -14.571154312), (139.599885785, -51.690714779))
            ThreePointArc((139.599885785, -51.690714779), (142.172543061, -51.827533014), (143.5, -49.619560467))
            Line((143.5, -49.619560467), (143.5, -12.5))
            ThreePointArc((143.5, -12.5), (142.767766953, -10.732233047), (141, -10))
        make_face()
        with BuildLine():
            ThreePointArc((0, -12.7), (3.719743879, -3.719743879), (12.7, 0))
            Line((12.7, 0), (0, 0))
            Line((0, 0), (0, -12.7))
        make_face()
        with BuildLine():
            Line((212.5, 0), (199.8, 0))
            ThreePointArc((199.8, 0), (208.780256121, -3.719743879), (212.5, -12.7))
            Line((212.5, -12.7), (212.5, 0))
        make_face()
        with BuildLine():
            ThreePointArc((5, -70.4825), (1.464466094, -69.018033906), (0, -65.4825))
            Line((0, -65.4825), (0, -274.2425))
            ThreePointArc((0, -274.2425), (1.464466094, -270.706966094), (5, -269.2425))
            Line((5, -269.2425), (101.25, -269.2425))
            ThreePointArc((101.25, -269.2425), (104.785533906, -267.778033906), (106.25, -264.2425))
            Line((106.25, -264.2425), (106.25, -204.9525))
            ThreePointArc((106.25, -204.9525), (107.714466094, -201.416966094), (111.25, -199.9525))
            Line((111.25, -199.9525), (187.26, -199.9525))
            ThreePointArc((187.26, -199.9525), (190.795533906, -198.488033906), (192.26, -194.9525))
            Line((192.26, -194.9525), (192.26, -144.7725))
            ThreePointArc((192.26, -144.7725), (190.795533906, -141.236966094), (187.26, -139.7725))
            Line((187.26, -139.7725), (111.25, -139.7725))
            ThreePointArc((111.25, -139.7725), (107.714466094, -138.308033906), (106.25, -134.7725))
            Line((106.25, -134.7725), (106.25, -75.4825))
            ThreePointArc((106.25, -75.4825), (104.785533906, -71.946966094), (101.25, -70.4825))
            Line((101.25, -70.4825), (5, -70.4825))
        make_face()
        with BuildLine():
            Line((212.5, -339.725), (212.5, -327.025))
            ThreePointArc((212.5, -327.025), (208.780256121, -336.005256121), (199.8, -339.725))
            Line((199.8, -339.725), (212.5, -339.725))
        make_face()
        with BuildLine():
            Line((0, -339.725), (12.7, -339.725))
            ThreePointArc((12.7, -339.725), (3.719743879, -336.005256121), (0, -327.025))
            Line((0, -327.025), (0, -339.725))
        make_face()
        with BuildLine():
            ThreePointArc((72.900114215, -18.671785221), (70.327456939, -18.534966986), (69, -20.742939533))
            Line((69, -20.742939533), (69, -57.8625))
            ThreePointArc((69, -57.8625), (69.732233047, -59.630266953), (71.5, -60.3625))
            Line((71.5, -60.3625), (126.410047253, -60.3625))
            ThreePointArc((126.410047253, -60.3625), (128.800432763, -58.594659211), (127.810161468, -55.791345688))
            Line((127.810161468, -55.791345688), (72.900114215, -18.671785221))
        make_face()
        with BuildLine():
            Line((126.410047253, -279.3625), (71.5, -279.3625))
            ThreePointArc((71.5, -279.3625), (69.732233047, -280.094733047), (69, -281.8625))
            Line((69, -281.8625), (69, -318.982060467))
            ThreePointArc((69, -318.982060467), (70.327456939, -321.190033014), (72.900114215, -321.053214779))
            Line((72.900114215, -321.053214779), (127.810161468, -283.933654312))
            ThreePointArc((127.810161468, -283.933654312), (128.800432763, -281.130340789), (126.410047253, -279.3625))
        make_face()
        with BuildLine():
            Line((139.599885785, -288.034285221), (84.689838532, -325.153845688))
            ThreePointArc((84.689838532, -325.153845688), (83.699567237, -327.957159211), (86.089952747, -329.725))
            Line((86.089952747, -329.725), (141, -329.725))
            ThreePointArc((141, -329.725), (142.767766953, -328.992766953), (143.5, -327.225))
            Line((143.5, -327.225), (143.5, -290.105439533))
            ThreePointArc((143.5, -290.105439533), (142.172543061, -287.897466986), (139.599885785, -288.034285221))
        make_face()
        with Locations((12.7, -12.7)):
            Circle(SKETCH5_R)
        with Locations((199.8, -12.7)):
            Circle(SKETCH5_R)
        with Locations((12.7, -327.025)):
            Circle(SKETCH5_R)
        with Locations((199.8, -327.025)):
            Circle(SKETCH5_R)
    extrude(amount=-CUT_EXTRUDE2_DEPTH, mode=Mode.SUBTRACT)


solid = part.part
